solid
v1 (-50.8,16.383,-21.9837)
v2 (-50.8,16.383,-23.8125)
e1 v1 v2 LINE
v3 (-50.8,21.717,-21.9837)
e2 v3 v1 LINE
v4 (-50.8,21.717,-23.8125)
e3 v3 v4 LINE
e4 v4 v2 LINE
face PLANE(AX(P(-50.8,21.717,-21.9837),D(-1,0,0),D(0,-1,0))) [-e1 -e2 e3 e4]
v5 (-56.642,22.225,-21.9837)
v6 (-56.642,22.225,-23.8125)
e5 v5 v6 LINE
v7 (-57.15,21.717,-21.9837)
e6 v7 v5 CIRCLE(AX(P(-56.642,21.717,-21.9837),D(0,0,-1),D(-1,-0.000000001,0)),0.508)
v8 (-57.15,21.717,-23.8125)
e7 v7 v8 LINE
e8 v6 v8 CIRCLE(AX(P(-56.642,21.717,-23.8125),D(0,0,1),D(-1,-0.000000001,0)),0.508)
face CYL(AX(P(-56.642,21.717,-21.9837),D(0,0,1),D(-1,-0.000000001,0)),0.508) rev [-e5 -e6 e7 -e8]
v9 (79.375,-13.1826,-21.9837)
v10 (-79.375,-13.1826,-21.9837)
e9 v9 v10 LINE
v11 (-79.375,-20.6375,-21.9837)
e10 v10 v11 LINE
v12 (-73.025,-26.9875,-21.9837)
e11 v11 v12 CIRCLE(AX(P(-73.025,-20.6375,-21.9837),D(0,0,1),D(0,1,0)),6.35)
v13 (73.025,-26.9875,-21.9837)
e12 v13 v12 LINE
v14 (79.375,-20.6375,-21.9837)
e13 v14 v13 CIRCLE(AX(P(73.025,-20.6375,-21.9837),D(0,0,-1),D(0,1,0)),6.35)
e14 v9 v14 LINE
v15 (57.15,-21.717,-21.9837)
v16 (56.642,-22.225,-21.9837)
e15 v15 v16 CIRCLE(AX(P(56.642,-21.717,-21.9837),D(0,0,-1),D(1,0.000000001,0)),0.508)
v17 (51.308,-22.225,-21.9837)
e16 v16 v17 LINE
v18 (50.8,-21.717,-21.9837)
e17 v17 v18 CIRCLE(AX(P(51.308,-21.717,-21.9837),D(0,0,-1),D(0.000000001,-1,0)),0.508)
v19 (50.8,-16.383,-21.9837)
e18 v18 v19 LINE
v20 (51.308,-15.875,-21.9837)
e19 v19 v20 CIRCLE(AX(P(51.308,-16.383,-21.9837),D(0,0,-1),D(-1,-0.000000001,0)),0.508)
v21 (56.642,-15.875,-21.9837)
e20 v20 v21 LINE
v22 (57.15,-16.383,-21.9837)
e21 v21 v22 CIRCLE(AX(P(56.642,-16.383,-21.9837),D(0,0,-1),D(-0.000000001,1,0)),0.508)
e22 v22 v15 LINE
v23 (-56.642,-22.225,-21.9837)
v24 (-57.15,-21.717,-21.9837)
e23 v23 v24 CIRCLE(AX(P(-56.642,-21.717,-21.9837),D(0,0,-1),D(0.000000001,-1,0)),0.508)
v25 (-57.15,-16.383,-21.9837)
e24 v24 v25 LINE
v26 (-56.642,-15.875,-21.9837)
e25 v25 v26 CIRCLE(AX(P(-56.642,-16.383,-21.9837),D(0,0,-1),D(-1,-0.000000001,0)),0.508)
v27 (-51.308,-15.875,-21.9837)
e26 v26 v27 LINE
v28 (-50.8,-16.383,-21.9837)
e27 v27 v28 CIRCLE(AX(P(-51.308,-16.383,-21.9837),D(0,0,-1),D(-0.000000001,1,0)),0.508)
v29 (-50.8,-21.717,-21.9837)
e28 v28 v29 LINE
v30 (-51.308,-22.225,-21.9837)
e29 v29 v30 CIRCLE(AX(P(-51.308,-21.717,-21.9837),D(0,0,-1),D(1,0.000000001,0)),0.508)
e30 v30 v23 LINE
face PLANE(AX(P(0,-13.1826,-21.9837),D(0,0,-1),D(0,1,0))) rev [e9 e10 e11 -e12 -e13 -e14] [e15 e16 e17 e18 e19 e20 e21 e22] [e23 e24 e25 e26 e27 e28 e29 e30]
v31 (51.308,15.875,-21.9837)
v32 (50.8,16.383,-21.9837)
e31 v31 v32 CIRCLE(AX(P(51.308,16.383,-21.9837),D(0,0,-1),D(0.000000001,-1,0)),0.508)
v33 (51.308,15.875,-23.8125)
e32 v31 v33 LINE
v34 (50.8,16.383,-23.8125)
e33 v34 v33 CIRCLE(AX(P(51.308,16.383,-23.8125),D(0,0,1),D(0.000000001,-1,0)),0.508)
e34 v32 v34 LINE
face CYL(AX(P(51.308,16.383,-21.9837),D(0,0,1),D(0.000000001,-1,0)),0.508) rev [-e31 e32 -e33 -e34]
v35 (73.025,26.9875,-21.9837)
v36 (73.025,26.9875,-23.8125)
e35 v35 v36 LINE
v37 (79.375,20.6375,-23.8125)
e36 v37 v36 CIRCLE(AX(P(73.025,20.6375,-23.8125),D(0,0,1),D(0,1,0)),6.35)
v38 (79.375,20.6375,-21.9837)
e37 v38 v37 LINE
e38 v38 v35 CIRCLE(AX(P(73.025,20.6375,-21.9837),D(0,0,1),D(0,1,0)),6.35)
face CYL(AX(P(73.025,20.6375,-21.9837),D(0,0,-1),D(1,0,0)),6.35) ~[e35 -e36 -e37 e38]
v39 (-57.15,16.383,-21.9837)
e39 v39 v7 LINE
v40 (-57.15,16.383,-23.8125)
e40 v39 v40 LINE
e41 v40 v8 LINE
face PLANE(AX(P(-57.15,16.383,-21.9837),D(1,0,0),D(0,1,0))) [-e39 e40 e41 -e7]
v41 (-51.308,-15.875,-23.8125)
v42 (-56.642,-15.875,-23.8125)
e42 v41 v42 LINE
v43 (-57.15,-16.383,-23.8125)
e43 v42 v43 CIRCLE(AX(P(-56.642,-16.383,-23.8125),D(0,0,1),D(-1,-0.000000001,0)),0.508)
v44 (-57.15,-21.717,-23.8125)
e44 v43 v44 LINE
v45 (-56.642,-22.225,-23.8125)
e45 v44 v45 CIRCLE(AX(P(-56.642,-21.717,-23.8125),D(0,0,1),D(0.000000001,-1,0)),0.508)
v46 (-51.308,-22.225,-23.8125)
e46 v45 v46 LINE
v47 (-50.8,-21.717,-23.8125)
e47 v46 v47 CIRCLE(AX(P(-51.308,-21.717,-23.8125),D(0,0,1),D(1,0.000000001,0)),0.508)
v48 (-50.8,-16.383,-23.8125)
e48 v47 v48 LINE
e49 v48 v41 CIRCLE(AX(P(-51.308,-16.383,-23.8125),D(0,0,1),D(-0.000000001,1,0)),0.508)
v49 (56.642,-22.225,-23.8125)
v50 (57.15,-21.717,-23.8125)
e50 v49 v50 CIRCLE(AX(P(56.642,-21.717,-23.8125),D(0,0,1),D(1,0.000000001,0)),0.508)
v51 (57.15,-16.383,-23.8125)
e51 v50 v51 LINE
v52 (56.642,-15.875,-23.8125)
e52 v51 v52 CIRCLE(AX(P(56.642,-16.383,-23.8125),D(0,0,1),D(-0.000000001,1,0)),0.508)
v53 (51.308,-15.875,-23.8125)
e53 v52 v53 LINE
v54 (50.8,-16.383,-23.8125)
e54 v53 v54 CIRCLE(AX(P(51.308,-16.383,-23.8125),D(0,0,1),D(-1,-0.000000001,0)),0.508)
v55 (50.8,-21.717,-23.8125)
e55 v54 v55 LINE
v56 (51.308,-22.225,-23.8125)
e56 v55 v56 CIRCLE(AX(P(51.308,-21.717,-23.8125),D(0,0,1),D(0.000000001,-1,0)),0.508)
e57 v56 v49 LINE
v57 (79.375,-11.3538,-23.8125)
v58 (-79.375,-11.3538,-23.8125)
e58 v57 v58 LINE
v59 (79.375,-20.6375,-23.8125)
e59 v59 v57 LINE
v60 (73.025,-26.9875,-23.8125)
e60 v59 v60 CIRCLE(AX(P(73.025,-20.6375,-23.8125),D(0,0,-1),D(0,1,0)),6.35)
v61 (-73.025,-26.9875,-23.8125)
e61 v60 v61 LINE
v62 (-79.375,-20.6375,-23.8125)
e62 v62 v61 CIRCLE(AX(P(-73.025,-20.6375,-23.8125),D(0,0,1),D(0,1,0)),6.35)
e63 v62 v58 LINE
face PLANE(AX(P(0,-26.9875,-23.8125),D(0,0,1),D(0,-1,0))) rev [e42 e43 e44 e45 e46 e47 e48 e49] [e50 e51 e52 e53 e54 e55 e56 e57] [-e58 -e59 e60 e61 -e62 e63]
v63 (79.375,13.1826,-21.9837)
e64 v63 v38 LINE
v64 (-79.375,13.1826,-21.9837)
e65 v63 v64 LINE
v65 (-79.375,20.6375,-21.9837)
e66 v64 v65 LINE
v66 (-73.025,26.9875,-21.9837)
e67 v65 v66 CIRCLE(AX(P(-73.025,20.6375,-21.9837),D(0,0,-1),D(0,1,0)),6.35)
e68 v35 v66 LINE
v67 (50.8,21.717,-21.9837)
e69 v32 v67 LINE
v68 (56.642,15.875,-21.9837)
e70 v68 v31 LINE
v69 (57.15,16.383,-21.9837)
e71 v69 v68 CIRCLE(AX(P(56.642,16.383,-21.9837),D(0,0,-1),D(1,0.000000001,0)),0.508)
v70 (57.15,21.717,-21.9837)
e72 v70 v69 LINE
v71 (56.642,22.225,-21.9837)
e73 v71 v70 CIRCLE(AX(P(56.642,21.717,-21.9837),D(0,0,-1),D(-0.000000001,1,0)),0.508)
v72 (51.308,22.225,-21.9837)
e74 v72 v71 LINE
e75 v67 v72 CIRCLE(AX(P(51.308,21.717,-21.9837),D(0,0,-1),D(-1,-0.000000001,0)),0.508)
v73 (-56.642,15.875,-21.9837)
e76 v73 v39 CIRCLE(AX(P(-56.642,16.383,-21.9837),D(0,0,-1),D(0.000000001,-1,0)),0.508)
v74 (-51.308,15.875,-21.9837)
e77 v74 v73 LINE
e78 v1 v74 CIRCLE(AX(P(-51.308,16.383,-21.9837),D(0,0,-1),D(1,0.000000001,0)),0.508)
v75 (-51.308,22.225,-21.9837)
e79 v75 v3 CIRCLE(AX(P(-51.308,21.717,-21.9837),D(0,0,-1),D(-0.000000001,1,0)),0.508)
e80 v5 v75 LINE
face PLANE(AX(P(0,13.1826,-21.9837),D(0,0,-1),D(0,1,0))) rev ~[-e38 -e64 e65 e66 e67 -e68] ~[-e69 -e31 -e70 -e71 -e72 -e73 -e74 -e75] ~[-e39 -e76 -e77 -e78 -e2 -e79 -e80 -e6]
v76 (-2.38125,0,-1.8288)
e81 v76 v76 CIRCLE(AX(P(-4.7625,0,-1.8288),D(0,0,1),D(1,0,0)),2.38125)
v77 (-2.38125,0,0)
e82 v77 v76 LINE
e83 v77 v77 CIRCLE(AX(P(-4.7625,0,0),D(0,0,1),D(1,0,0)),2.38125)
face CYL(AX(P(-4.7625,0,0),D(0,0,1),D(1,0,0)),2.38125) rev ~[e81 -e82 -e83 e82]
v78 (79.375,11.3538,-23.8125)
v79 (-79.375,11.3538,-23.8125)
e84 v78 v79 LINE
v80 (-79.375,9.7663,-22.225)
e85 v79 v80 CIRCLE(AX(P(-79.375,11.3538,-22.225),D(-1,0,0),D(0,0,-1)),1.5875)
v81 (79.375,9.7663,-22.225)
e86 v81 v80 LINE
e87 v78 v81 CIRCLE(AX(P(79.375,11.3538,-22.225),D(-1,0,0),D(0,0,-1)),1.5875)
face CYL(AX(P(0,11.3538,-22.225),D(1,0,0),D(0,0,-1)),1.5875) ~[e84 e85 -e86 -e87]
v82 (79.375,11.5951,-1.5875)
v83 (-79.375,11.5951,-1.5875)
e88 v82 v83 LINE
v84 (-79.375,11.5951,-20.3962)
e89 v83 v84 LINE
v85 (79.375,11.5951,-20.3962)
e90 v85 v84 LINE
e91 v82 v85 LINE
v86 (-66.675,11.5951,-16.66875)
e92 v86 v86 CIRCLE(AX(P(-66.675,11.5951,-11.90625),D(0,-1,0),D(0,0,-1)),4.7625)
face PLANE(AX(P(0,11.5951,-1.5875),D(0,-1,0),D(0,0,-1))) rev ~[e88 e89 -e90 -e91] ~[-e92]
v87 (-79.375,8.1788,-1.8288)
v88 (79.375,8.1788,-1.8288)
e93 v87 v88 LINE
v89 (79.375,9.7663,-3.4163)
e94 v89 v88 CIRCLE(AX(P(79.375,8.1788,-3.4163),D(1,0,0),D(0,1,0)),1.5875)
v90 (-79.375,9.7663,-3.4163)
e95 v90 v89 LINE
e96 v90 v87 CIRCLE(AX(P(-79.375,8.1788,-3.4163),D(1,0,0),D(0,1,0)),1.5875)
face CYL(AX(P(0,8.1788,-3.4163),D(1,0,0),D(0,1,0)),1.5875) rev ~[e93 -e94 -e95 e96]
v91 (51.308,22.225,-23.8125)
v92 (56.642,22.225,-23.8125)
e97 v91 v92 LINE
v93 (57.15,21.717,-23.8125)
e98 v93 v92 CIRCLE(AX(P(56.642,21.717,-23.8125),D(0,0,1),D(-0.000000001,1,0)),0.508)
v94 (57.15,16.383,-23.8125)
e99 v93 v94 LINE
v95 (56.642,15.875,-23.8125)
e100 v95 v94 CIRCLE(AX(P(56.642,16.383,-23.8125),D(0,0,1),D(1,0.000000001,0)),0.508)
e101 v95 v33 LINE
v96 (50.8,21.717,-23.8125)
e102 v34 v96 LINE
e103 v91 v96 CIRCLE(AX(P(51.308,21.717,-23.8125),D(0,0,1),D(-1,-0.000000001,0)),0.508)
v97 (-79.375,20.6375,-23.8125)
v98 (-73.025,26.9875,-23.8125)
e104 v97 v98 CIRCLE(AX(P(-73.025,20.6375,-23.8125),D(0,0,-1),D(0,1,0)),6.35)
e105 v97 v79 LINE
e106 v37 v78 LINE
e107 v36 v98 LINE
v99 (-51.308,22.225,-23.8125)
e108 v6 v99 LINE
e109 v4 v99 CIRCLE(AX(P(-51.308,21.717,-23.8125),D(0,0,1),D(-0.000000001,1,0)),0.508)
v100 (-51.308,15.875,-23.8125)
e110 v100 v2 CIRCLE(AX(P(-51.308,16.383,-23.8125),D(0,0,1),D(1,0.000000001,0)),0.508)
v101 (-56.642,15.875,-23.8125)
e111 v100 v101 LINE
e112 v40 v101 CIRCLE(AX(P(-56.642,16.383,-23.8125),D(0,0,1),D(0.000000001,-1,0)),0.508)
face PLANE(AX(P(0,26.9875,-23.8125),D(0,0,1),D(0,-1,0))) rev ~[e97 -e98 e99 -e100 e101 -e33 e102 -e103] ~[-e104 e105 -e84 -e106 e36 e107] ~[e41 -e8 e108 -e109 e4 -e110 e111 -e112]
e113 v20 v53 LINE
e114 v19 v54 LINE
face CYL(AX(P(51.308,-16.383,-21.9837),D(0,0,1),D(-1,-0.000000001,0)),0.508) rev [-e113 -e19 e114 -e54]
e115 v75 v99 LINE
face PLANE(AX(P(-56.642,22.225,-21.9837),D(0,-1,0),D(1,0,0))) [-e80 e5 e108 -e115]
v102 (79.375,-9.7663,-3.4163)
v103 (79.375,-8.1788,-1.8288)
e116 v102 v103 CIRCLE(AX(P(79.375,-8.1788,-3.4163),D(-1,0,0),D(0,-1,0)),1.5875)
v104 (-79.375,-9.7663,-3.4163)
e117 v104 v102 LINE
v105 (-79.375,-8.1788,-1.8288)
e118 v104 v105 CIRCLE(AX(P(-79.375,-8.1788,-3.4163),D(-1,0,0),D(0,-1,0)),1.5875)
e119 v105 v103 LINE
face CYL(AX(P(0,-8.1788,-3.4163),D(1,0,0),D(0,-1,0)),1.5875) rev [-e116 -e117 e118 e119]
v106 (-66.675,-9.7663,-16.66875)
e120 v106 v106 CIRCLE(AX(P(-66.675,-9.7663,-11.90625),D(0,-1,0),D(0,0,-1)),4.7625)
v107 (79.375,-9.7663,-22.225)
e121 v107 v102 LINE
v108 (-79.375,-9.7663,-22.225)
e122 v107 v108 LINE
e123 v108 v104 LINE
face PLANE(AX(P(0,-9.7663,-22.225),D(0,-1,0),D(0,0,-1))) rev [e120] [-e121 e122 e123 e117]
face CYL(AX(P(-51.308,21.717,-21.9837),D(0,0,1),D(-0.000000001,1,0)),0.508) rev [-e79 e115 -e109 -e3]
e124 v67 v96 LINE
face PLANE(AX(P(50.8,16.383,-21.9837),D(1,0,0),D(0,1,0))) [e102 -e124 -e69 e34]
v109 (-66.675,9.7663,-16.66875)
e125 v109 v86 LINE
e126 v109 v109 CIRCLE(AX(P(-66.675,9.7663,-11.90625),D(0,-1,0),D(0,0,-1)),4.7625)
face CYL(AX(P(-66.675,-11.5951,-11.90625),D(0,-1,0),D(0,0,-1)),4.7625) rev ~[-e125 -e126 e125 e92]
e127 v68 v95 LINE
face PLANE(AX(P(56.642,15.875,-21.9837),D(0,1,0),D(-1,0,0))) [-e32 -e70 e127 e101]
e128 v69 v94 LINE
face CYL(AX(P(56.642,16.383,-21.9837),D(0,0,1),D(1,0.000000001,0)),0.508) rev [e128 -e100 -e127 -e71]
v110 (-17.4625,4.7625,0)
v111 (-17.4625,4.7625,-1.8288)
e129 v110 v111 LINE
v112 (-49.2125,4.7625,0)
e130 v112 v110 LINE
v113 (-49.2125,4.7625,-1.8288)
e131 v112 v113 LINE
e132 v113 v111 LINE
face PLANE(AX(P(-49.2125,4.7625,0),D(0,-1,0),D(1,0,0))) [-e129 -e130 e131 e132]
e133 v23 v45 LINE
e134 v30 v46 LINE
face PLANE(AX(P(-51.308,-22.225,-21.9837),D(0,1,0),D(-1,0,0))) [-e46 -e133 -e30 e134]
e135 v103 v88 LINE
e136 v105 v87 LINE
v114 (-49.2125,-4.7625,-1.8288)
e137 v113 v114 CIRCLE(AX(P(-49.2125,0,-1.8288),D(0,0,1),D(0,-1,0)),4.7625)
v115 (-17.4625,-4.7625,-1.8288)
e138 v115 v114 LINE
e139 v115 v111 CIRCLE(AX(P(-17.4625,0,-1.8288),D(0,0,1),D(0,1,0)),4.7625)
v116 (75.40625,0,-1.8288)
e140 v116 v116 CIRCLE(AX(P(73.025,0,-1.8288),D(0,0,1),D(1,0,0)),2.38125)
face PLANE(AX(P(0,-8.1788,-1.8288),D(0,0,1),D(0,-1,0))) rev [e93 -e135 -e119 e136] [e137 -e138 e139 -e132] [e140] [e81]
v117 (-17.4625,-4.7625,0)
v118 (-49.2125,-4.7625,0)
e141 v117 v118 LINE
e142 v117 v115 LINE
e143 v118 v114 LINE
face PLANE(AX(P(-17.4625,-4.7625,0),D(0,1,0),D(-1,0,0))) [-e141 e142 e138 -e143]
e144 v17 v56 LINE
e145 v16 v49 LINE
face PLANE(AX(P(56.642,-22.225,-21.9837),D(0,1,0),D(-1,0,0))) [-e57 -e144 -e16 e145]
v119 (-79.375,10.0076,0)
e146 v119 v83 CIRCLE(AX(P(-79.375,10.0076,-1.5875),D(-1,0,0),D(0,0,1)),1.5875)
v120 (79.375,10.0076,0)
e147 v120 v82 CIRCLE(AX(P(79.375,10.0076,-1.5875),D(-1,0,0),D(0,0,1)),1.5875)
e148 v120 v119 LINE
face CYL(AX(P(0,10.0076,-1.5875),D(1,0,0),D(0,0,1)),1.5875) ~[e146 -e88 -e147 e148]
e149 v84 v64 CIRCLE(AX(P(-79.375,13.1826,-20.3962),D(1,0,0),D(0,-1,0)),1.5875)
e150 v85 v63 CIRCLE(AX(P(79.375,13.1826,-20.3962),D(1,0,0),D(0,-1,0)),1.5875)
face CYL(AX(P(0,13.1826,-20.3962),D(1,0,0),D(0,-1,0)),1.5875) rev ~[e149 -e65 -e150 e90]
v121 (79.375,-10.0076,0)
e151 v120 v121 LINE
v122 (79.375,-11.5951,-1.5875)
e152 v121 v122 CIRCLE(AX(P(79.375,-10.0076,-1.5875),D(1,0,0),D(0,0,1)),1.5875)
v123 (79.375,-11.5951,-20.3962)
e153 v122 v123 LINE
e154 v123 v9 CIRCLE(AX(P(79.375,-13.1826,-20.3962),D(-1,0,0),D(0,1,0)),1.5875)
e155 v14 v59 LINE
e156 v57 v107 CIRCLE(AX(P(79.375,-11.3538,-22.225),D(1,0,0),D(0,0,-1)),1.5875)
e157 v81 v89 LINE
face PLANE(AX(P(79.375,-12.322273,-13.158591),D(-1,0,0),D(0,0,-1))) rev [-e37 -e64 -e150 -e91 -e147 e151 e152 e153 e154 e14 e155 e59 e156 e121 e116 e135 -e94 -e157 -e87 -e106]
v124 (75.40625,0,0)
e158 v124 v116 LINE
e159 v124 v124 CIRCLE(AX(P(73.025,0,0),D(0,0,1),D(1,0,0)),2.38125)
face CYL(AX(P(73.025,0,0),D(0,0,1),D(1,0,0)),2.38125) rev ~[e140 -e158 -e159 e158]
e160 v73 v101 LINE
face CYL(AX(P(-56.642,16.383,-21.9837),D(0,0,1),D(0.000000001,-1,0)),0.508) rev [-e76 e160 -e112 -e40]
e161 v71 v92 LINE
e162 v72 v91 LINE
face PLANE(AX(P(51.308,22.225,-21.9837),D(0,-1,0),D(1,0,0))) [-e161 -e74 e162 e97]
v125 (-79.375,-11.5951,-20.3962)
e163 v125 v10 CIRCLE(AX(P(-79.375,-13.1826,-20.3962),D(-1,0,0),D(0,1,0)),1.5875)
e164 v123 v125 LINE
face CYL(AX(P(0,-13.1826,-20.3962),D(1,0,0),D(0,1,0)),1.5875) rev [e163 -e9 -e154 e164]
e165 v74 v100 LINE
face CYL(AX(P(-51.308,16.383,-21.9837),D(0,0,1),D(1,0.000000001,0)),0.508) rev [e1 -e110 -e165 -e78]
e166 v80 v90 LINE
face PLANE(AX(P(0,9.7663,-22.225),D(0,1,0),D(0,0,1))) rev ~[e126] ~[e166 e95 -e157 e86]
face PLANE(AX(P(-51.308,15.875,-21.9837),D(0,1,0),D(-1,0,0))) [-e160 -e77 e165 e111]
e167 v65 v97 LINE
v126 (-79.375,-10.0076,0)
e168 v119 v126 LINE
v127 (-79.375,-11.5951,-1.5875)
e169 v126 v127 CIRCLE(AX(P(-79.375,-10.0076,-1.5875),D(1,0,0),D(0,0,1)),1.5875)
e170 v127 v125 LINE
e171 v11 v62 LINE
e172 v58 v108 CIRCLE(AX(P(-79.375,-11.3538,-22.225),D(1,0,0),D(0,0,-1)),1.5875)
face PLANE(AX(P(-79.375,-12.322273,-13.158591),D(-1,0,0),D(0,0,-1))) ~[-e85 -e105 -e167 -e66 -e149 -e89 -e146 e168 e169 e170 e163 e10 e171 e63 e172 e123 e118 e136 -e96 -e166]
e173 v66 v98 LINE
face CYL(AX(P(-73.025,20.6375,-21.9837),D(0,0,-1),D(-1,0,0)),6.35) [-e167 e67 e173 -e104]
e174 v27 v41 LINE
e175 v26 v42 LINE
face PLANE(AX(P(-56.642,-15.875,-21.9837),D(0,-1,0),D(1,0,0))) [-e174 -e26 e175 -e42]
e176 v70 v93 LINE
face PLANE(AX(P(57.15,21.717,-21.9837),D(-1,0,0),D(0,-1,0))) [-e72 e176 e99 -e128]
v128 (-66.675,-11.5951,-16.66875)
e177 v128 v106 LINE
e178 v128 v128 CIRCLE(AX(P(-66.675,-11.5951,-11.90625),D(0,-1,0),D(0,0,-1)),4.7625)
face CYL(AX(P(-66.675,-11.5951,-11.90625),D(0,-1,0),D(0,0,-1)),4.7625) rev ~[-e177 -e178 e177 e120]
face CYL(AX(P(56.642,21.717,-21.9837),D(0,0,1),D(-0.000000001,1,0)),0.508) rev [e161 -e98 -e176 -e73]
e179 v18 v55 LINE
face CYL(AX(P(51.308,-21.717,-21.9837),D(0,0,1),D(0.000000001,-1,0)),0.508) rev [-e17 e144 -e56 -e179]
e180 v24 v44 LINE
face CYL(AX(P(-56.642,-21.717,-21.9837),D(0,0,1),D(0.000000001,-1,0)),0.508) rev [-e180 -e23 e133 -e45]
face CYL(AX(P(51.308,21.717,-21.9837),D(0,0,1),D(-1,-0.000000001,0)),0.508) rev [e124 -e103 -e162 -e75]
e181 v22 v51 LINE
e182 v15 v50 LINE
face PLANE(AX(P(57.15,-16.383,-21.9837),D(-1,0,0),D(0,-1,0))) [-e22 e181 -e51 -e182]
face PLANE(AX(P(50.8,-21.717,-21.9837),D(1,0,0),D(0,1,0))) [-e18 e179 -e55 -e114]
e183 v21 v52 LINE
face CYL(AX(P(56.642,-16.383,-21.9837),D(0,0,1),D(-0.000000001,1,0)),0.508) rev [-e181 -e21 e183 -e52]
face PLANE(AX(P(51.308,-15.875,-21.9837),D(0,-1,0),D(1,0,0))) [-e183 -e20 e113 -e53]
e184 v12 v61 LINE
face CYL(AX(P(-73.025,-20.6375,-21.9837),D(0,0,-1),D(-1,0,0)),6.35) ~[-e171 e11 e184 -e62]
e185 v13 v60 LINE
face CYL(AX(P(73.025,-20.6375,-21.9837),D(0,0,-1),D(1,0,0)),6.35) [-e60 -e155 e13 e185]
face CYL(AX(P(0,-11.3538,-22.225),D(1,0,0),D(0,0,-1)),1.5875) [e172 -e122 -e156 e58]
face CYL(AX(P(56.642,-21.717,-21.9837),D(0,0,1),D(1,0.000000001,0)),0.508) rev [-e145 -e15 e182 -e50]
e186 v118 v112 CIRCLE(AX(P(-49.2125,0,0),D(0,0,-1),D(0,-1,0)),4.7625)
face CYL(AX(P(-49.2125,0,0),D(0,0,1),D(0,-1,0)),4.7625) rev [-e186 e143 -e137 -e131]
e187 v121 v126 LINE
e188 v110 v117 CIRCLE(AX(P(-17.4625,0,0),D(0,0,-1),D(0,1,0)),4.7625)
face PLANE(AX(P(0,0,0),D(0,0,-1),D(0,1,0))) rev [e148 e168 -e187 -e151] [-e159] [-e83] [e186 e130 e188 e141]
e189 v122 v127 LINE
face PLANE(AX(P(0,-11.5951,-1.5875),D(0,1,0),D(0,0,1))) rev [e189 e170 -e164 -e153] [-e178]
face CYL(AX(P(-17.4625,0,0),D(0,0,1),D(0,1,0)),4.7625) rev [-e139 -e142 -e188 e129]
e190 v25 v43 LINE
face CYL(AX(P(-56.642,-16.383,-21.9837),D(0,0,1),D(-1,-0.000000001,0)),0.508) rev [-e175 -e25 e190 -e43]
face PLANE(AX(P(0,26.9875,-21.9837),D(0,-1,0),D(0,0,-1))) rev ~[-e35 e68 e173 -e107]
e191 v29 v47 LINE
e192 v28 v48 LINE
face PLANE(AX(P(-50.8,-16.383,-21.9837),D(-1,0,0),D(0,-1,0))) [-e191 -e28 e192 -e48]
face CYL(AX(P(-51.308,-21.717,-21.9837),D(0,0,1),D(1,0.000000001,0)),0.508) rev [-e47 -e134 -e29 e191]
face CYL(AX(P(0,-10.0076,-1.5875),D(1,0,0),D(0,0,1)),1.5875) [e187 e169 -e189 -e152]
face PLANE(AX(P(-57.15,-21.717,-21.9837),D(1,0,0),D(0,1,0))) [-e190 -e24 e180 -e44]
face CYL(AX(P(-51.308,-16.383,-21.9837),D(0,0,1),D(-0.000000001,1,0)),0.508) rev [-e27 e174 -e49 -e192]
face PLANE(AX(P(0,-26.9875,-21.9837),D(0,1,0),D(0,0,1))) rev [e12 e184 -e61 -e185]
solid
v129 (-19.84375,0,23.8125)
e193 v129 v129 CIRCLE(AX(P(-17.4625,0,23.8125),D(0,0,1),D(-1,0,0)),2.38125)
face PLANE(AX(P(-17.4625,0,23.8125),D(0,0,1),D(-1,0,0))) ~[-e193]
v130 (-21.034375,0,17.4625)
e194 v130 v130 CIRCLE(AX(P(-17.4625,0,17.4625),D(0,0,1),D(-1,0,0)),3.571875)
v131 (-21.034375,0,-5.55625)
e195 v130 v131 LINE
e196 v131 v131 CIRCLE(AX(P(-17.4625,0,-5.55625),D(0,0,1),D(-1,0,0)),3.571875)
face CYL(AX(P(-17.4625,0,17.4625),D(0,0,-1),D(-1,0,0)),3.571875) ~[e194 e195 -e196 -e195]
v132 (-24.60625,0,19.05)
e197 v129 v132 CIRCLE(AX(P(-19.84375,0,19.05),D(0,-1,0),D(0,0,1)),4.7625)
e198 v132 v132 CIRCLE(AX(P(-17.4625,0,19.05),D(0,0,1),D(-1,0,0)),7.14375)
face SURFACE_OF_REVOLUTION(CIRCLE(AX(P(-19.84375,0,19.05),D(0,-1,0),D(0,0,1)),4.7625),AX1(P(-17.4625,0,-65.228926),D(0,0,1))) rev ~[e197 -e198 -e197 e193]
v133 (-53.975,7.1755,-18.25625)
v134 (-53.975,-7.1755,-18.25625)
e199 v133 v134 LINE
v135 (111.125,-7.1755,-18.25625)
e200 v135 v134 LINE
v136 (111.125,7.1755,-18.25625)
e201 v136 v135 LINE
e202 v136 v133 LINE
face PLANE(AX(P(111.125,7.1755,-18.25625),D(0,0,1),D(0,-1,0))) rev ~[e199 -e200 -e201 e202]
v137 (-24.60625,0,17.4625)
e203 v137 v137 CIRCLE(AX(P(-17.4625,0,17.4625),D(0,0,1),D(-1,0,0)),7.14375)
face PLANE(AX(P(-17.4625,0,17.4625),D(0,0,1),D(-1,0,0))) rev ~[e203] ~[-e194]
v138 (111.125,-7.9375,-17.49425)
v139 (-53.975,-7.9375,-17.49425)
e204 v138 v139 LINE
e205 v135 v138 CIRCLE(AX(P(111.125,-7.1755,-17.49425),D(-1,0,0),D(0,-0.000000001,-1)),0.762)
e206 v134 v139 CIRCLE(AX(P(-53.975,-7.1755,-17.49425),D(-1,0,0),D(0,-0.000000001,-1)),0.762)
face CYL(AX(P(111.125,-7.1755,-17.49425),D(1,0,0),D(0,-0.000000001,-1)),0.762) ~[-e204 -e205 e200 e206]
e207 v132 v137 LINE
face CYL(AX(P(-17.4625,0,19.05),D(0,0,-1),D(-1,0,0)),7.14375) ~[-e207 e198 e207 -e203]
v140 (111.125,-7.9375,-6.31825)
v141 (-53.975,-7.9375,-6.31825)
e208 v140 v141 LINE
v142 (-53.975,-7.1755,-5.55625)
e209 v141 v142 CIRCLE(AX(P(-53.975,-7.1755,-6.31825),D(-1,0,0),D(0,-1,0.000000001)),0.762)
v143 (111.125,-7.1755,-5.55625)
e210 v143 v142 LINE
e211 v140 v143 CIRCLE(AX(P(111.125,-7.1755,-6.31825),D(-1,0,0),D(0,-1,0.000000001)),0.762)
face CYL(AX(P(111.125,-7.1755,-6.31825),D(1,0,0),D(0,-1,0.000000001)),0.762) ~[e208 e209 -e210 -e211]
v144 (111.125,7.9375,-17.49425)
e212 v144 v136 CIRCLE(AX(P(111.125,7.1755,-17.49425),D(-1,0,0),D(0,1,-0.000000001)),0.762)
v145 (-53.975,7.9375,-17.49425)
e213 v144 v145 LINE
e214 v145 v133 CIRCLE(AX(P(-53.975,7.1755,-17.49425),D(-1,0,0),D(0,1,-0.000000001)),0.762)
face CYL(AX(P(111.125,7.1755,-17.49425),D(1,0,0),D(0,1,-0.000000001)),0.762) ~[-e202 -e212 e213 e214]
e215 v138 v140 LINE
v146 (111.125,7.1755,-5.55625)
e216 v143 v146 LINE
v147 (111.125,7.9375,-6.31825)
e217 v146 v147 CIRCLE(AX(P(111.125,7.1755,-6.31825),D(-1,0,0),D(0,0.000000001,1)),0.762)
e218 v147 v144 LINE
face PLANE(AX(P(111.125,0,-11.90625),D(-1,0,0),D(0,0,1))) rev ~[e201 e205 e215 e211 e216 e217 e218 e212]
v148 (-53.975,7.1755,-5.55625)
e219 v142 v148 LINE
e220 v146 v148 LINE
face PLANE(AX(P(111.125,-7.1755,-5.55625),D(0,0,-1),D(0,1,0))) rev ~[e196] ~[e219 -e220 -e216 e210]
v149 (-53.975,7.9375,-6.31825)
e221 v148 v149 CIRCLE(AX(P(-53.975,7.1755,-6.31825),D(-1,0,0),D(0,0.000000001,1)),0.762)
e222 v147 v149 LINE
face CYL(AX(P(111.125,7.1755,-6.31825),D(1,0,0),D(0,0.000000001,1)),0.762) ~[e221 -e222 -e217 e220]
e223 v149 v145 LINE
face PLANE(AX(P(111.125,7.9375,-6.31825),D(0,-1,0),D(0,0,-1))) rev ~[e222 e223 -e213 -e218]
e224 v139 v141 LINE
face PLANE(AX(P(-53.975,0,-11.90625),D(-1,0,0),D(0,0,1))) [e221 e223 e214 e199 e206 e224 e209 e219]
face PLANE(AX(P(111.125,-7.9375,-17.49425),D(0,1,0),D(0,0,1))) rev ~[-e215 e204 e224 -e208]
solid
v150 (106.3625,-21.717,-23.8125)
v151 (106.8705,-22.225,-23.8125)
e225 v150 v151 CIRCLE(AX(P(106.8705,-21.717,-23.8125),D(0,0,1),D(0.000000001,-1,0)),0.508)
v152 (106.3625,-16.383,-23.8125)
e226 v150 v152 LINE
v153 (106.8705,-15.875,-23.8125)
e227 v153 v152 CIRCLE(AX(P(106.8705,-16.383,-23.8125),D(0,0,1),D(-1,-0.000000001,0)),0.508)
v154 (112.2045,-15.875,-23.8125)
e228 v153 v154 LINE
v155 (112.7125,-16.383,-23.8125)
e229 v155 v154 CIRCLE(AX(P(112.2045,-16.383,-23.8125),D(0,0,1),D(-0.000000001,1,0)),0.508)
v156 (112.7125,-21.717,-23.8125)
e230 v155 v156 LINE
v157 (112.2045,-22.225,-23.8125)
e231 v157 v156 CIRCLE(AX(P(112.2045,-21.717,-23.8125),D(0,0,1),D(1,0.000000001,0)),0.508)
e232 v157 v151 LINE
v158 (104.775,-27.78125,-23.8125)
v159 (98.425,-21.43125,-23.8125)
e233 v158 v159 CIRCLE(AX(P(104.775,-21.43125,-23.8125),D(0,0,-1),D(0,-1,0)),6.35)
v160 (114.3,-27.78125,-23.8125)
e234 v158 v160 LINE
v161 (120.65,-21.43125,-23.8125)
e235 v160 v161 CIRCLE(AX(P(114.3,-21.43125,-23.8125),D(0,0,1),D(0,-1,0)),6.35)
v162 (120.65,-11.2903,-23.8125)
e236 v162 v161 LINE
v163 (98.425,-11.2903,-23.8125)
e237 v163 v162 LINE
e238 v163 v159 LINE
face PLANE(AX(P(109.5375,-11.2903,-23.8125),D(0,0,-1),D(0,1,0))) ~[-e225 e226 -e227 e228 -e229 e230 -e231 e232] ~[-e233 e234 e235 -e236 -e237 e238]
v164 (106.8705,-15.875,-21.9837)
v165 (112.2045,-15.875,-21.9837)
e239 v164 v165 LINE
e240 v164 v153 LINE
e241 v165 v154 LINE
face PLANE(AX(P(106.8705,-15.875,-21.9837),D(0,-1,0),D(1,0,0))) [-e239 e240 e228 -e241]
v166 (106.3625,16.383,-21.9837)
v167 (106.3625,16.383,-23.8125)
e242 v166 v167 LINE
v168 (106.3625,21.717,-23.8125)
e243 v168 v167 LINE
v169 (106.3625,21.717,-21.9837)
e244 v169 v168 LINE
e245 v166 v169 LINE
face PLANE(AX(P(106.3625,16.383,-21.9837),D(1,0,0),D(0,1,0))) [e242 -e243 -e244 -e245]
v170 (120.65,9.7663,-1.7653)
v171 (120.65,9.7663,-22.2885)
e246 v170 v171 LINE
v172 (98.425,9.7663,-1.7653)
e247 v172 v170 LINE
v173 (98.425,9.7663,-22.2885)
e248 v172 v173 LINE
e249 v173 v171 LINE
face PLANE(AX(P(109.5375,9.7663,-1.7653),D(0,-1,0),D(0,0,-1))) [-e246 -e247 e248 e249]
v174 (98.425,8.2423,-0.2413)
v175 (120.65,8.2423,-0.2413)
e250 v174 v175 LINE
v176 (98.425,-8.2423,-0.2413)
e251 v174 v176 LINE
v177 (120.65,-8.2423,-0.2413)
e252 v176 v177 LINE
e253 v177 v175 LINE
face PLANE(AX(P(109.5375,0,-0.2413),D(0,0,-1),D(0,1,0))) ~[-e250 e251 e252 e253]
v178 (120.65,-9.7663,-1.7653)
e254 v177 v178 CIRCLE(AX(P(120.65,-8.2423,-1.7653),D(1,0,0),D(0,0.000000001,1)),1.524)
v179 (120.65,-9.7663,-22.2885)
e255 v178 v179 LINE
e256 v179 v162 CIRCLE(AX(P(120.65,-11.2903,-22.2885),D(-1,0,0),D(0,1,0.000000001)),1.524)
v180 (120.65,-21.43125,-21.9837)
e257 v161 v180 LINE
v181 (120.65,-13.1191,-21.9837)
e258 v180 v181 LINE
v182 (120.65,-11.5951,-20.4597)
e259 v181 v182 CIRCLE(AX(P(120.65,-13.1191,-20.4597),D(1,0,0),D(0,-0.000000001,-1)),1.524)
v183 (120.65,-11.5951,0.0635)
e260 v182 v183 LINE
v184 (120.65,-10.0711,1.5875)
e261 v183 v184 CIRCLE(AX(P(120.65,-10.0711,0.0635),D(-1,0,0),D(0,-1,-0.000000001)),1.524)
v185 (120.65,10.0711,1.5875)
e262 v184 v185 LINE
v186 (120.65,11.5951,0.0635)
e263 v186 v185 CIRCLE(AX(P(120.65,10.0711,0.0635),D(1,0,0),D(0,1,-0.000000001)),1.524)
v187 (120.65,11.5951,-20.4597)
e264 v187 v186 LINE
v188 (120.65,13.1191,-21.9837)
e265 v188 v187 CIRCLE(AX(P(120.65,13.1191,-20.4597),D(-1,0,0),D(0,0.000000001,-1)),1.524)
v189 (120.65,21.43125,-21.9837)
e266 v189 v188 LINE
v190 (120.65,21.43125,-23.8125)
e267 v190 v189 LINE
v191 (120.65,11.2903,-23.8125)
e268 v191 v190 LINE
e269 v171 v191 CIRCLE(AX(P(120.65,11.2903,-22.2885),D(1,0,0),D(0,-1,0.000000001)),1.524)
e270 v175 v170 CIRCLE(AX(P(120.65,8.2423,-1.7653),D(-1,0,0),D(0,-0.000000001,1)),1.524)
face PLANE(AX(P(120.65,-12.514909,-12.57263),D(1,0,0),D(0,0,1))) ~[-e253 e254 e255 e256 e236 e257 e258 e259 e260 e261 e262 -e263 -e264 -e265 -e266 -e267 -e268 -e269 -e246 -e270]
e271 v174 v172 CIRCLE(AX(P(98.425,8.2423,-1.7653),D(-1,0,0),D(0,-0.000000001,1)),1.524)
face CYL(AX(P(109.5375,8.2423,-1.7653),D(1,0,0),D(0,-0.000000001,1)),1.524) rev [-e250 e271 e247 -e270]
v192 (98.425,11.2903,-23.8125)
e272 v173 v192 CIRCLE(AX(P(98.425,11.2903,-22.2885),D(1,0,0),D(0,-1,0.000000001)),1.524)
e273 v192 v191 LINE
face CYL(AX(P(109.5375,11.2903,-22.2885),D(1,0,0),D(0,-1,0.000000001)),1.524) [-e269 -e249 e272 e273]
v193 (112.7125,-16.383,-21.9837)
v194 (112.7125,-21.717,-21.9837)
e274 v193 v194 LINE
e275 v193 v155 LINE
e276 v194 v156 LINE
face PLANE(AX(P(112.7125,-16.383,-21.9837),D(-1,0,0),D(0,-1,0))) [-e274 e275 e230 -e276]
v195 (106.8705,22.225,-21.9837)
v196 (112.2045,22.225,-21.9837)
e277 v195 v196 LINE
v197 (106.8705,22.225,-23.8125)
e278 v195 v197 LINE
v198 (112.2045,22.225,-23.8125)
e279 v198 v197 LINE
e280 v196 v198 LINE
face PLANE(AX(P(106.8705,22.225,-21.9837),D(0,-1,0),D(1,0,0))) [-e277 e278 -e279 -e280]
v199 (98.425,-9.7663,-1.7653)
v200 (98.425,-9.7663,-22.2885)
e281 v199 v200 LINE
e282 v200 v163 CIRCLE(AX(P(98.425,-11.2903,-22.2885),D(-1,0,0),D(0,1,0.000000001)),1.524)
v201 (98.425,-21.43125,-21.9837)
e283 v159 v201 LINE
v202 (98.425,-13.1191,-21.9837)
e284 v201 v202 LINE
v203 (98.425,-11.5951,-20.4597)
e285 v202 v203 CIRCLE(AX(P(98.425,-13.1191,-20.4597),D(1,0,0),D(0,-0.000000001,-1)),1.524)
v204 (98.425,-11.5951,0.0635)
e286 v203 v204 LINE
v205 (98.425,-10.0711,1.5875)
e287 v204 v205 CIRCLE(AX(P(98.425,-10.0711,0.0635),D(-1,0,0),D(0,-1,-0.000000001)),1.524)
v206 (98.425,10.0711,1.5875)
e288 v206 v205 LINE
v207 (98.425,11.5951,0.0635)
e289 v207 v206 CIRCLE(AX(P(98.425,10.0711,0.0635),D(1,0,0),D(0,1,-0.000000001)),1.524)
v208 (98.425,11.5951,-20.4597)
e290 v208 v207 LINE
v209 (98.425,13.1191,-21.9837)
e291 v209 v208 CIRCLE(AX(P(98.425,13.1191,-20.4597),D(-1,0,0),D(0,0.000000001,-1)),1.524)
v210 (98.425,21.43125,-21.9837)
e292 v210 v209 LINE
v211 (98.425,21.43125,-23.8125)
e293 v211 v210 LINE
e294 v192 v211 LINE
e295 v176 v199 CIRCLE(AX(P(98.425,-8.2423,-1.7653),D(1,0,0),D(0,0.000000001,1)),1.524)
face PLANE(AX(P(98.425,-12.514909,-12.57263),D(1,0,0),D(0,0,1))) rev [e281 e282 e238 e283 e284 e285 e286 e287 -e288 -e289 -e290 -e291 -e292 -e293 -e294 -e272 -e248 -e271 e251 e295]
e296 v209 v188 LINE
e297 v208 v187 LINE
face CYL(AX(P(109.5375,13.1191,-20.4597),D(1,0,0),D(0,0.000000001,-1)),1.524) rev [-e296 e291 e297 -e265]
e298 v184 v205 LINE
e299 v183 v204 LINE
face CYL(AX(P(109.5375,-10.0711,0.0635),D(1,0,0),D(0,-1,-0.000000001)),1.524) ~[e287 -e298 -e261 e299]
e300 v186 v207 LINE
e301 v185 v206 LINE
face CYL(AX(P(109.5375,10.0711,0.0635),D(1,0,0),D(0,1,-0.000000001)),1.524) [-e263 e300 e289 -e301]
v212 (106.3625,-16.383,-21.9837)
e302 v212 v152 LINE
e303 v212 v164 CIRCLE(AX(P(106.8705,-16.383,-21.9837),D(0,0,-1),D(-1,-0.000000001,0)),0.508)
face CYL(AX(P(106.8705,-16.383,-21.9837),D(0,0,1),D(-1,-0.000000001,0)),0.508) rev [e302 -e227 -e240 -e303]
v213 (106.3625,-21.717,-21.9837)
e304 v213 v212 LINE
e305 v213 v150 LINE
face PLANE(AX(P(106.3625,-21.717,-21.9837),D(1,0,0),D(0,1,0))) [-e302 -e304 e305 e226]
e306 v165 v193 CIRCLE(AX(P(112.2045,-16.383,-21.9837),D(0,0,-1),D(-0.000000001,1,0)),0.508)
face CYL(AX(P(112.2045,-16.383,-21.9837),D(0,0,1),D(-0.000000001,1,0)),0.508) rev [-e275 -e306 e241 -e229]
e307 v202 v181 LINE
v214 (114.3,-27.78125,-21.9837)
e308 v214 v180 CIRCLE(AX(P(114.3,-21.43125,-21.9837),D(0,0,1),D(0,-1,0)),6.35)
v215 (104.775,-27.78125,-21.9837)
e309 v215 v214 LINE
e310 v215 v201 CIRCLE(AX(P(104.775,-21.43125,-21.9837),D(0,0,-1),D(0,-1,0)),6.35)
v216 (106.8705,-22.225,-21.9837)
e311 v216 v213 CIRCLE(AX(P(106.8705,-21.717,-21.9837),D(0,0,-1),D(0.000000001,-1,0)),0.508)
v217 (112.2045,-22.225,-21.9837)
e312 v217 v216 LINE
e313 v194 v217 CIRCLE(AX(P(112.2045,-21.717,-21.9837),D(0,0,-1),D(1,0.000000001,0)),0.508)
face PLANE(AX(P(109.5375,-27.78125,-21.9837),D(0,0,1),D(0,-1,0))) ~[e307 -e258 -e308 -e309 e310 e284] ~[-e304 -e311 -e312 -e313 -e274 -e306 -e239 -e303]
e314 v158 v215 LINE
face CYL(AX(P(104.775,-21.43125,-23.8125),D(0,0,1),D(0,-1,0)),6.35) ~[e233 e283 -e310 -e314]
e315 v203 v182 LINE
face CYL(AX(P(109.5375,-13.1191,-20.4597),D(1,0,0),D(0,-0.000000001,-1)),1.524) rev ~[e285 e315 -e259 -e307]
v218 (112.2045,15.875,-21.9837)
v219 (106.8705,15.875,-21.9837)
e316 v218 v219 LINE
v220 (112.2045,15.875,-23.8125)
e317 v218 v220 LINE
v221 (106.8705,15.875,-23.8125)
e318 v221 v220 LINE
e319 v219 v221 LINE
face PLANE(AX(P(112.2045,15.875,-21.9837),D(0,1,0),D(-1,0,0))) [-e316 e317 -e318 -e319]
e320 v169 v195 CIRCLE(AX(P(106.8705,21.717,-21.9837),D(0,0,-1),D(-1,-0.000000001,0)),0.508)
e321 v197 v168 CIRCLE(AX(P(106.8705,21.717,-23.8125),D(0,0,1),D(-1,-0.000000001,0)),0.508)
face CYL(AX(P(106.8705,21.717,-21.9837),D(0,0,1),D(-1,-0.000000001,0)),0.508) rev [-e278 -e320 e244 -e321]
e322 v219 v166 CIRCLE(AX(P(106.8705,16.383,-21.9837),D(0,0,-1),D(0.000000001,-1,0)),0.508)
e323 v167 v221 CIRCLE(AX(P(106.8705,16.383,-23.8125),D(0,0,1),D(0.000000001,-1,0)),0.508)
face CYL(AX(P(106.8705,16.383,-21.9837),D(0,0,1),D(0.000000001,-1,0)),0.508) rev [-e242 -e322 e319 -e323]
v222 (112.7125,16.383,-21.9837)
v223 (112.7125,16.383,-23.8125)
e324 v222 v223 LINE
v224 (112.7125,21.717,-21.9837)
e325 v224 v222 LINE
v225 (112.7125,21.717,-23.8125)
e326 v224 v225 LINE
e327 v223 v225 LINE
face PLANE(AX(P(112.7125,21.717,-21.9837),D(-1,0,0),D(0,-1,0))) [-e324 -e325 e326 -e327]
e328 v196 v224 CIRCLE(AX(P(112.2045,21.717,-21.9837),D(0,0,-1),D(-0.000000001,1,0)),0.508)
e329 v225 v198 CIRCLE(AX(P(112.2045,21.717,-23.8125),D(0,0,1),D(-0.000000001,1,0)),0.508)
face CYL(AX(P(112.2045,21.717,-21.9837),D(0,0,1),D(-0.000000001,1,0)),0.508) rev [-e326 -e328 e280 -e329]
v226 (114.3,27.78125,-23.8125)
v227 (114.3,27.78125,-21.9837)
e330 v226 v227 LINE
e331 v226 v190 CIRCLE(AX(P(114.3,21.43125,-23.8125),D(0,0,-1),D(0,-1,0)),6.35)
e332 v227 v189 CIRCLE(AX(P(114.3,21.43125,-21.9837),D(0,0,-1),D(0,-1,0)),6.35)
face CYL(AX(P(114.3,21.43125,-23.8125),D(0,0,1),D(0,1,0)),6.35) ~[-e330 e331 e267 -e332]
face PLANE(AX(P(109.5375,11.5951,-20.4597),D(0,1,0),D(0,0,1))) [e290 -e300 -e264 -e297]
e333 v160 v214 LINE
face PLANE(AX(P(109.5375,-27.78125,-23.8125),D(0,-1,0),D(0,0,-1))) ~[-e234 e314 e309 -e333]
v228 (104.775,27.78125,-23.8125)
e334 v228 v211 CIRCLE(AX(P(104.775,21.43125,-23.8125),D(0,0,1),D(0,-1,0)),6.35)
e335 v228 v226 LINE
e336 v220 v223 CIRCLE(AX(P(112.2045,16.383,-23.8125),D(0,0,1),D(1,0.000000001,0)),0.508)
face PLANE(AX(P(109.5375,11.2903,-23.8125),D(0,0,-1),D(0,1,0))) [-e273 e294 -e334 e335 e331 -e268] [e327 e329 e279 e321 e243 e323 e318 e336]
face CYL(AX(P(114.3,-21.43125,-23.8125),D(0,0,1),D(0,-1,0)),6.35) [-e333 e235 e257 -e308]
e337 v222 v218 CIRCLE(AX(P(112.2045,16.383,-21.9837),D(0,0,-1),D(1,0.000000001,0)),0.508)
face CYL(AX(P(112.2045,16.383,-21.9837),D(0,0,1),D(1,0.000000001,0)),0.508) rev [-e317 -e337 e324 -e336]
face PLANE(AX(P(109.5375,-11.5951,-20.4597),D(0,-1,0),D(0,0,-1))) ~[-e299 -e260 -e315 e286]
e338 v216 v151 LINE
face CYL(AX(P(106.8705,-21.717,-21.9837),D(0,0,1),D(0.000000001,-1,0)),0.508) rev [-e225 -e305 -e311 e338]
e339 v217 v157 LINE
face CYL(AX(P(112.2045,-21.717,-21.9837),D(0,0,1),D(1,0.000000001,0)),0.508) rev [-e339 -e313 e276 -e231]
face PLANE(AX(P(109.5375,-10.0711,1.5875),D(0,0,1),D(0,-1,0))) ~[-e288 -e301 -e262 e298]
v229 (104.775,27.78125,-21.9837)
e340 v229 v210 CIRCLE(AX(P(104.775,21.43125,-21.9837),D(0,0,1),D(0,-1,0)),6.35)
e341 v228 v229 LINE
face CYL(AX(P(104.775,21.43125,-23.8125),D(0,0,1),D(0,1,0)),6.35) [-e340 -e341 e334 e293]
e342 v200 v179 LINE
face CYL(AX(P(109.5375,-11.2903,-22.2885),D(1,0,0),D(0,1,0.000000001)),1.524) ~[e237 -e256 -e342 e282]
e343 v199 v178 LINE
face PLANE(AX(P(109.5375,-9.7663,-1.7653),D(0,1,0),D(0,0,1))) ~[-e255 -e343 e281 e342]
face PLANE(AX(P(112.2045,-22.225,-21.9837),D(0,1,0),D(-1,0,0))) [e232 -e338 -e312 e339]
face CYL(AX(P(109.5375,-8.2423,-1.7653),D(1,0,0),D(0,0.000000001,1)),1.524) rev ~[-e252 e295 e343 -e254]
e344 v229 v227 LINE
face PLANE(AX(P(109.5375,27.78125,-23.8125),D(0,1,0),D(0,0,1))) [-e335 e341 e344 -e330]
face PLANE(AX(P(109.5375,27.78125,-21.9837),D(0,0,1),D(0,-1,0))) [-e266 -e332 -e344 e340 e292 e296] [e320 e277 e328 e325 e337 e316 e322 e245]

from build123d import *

# Parameters (mm, degrees)
BOSS_EXTRUDE1_DEPTH = 79.375
FILLET1_R           = 6.35
CUT_EXTRUDE1_REACH  = 89.154
SKETCH5_R           = 2.38125
SKETCH6_R           = 4.7625
CUT_EXTRUDE2_DEPTH  = 92.411393185
CUT_EXTRUDE3_DEPTH  = 87.671788068
BOSS_EXTRUDE2_DEPTH = 165.1
BOSS_EXTRUDE3_DEPTH = 11.1125
FILLET3_R           = 6.35
CUT_EXTRUDE4_DEPTH  = 133.005728266


with BuildPart() as part:
    # Sketch4 → Boss-Extrude1 (new, symmetric)
    with BuildSketch(Plane(origin=(0, 0, 0), x_dir=(0, 0, -1), z_dir=(1, 0, 0))):
        with BuildLine():
            Line((1.8288, 0), (0, 0))
            Line((0, 0), (0, 10.0076))
            ThreePointArc((0, 10.0076), (0.464967985, 11.130132015), (1.5875, 11.5951))
            Line((1.5875, 11.5951), (20.3962, 11.5951))
            ThreePointArc((20.3962, 11.5951), (21.518732015, 12.060067985), (21.9837, 13.1826))
            Line((21.9837, 13.1826), (21.9837, 26.9875))
            Line((21.9837, 26.9875), (23.8125, 26.9875))
            Line((23.8125, 26.9875), (23.8125, 11.3538))
            ThreePointArc((23.8125, 11.3538), (23.347532015, 10.231267985), (22.225, 9.7663))
            Line((22.225, 9.7663), (3.4163, 9.7663))
            ThreePointArc((3.4163, 9.7663), (2.293767985, 9.301332015), (1.8288, 8.1788))
            Line((1.8288, 8.1788), (1.8288, 0))
        make_face()
    boss_extrude1 = extrude(amount=BOSS_EXTRUDE1_DEPTH, both=True)

    # Mirror1: Boss-Extrude1 across plane
    add(boss_extrude1.mirror(Plane.ZX))

    # Fillet1
    fillet1_edges = [part.edges().sort_by_distance(p)[0] for p in [
        (-79.375, 26.9875, -22.8981),
        (79.375, 26.9875, -22.8981),
        (79.375, -26.9875, -22.8981),
        (-79.375, -26.9875, -22.8981),
    ]]
    fillet(fillet1_edges, radius=FILLET1_R)

    # Sketch5 → Cut-Extrude1 (cut, up to next)
    with BuildSketch(Plane.XY, mode=Mode.PRIVATE) as cut_extrude1_sk1:
        with Locations((73.025, 0)):
            Circle(SKETCH5_R)
    cut_extrude1_tool1 = extrude(cut_extrude1_sk1.sketch, amount=-CUT_EXTRUDE1_REACH, mode=Mode.PRIVATE) & part.part
    # Sketch5 → Cut-Extrude1 (cut, up to next)
    with BuildSketch(Plane.XY, mode=Mode.PRIVATE) as cut_extrude1_sk2:
        with Locations((-4.7625, 0)):
            Circle(SKETCH5_R)
    cut_extrude1_tool2 = extrude(cut_extrude1_sk2.sketch, amount=-CUT_EXTRUDE1_REACH, mode=Mode.PRIVATE) & part.part
    # Sketch5 → Cut-Extrude1 (cut, up to next)
    with BuildSketch(Plane.XY, mode=Mode.PRIVATE) as cut_extrude1_sk3:
        with BuildLine():
            Line((-49.2125, 4.7625), (-17.4625, 4.7625))
            ThreePointArc((-17.4625, 4.7625), (-12.7, 0), (-17.4625, -4.7625))
            Line((-17.4625, -4.7625), (-49.2125, -4.7625))
            ThreePointArc((-49.2125, -4.7625), (-53.975, 0), (-49.2125, 4.7625))
        make_face()
    cut_extrude1_tool3 = extrude(cut_extrude1_sk3.sketch, amount=-CUT_EXTRUDE1_REACH, mode=Mode.PRIVATE) & part.part
    add(cut_extrude1_tool1.solids().sort_by_distance((73.025, 0, 0))[0], mode=Mode.SUBTRACT)
    add(cut_extrude1_tool2.solids().sort_by_distance((-4.7625, 0, 0))[0], mode=Mode.SUBTRACT)
    add(cut_extrude1_tool3.solids().sort_by_distance((-33.3375, 0, 0))[0], mode=Mode.SUBTRACT)

    # Sketch6 → Cut-Extrude2 (cut, through all)
    with BuildSketch(Plane.XZ.offset(11.5951)):
        with Locations(Location((-66.675, -11.90625, 0), (0, 0, 270))):
            Circle(SKETCH6_R)
    extrude(amount=-CUT_EXTRUDE2_DEPTH, mode=Mode.SUBTRACT)

    # Sketch7 → Cut-Extrude3 (cut, through all)
    with BuildSketch(Plane.XY.offset(-21.9837)):
        with BuildLine():
            Line((-56.642, 22.225), (-51.308, 22.225))
            ThreePointArc((-51.308, 22.225), (-50.948789755, 22.076210245), (-50.8, 21.717))
            Line((-50.8, 21.717), (-50.8, 16.383))
            ThreePointArc((-50.8, 16.383), (-50.948789755, 16.023789755), (-51.308, 15.875))
            Line((-51.308, 15.875), (-56.642, 15.875))
            ThreePointArc((-56.642, 15.875), (-57.001210245, 16.023789755), (-57.15, 16.383))
            Line((-57.15, 16.383), (-57.15, 21.717))
            ThreePointArc((-57.15, 21.717), (-57.001210245, 22.076210245), (-56.642, 22.225))
        make_face()
        with BuildLine():
            Line((51.308, 22.225), (56.642, 22.225))
            ThreePointArc((56.642, 22.225), (57.001210245, 22.076210245), (57.15, 21.717))
            Line((57.15, 21.717), (57.15, 16.383))
            ThreePointArc((57.15, 16.383), (57.001210245, 16.023789755), (56.642, 15.875))
            Line((56.642, 15.875), (51.308, 15.875))
            ThreePointArc((51.308, 15.875), (50.948789755, 16.023789755), (50.8, 16.383))
            Line((50.8, 16.383), (50.8, 21.717))
            ThreePointArc((50.8, 21.717), (50.948789755, 22.076210245), (51.308, 22.225))
        make_face()
        with BuildLine():
            Line((51.308, -15.875), (56.642, -15.875))
            ThreePointArc((56.642, -15.875), (57.001210245, -16.023789755), (57.15, -16.383))
            Line((57.15, -16.383), (57.15, -21.717))
            ThreePointArc((57.15, -21.717), (57.001210245, -22.076210245), (56.642, -22.225))
            Line((56.642, -22.225), (51.308, -22.225))
            ThreePointArc((51.308, -22.225), (50.948789755, -22.076210245), (50.8, -21.717))
            Line((50.8, -21.717), (50.8, -16.383))
            ThreePointArc((50.8, -16.383), (50.948789755, -16.023789755), (51.308, -15.875))
        make_face()
        with BuildLine():
            Line((-56.642, -15.875), (-51.308, -15.875))
            ThreePointArc((-51.308, -15.875), (-50.948789755, -16.023789755), (-50.8, -16.383))
            Line((-50.8, -16.383), (-50.8, -21.717))
            ThreePointArc((-50.8, -21.717), (-50.948789755, -22.076210245), (-51.308, -22.225))
            Line((-51.308, -22.225), (-56.642, -22.225))
            ThreePointArc((-56.642, -22.225), (-57.001210245, -22.076210245), (-57.15, -21.717))
            Line((-57.15, -21.717), (-57.15, -16.383))
            ThreePointArc((-57.15, -16.383), (-57.001210245, -16.023789755), (-56.642, -15.875))
        make_face()
    extrude(amount=-CUT_EXTRUDE3_DEPTH, mode=Mode.SUBTRACT)


with BuildPart() as body_2:
    # Sketch8 → Boss-Extrude2 (new body)
    with BuildSketch(Plane(origin=(111.125, 0, 0), x_dir=(0, 0, -1), z_dir=(1, 0, 0))):
        with BuildLine():
            Line((6.31825, 7.9375), (17.49425, 7.9375))
            ThreePointArc((17.49425, 7.9375), (18.033065367, 7.714315367), (18.25625, 7.1755))
            Line((18.25625, 7.1755), (18.25625, -7.1755))
            ThreePointArc((18.25625, -7.1755), (18.033065367, -7.714315367), (17.49425, -7.9375))
            Line((17.49425, -7.9375), (6.31825, -7.9375))
            ThreePointArc((6.31825, -7.9375), (5.779434633, -7.714315367), (5.55625, -7.1755))
            Line((5.55625, -7.1755), (5.55625, 7.1755))
            ThreePointArc((5.55625, 7.1755), (5.779434633, 7.714315367), (6.31825, 7.9375))
        make_face()
    extrude(amount=-BOSS_EXTRUDE2_DEPTH)

    # Sketch12 → Revolve1 (revolve)
    with BuildSketch(Plane(origin=(0, 0, 0), x_dir=(1, 0, 0), z_dir=(0, 1, 0)), mode=Mode.PRIVATE) as revolve1_sk:
        with BuildLine():
            Line((-17.4625, 5.55625), (-17.4625, -23.8125))
            Line((-17.4625, -23.8125), (-15.08125, -23.8125))
            ThreePointArc((-15.08125, -23.8125), (-11.713653955, -22.417596045), (-10.31875, -19.05))
            Line((-10.31875, -19.05), (-10.31875, -17.4625))
            Line((-10.31875, -17.4625), (-13.890625, -17.4625))
            Line((-13.890625, -17.4625), (-13.890625, 5.55625))
            Line((-13.890625, 5.55625), (-17.4625, 5.55625))
        make_face()
    revolve(revolve1_sk.sketch.rotate(Axis((-17.4625, 0, -65.228925589), (0, 0, 1)), 180), axis=Axis((-17.4625, 0, -65.228925589), (0, 0, 1)))


with BuildPart() as body_3:
    # Sketch13 → Boss-Extrude3 (new, symmetric)
    with BuildSketch(Plane(origin=(109.5375, 0, 0), x_dir=(0, 0, -1), z_dir=(1, 0, 0))):
        with BuildLine():
            Line((-1.5875, 0), (0.2413, 0))
            Line((0.2413, 0), (0.2413, 8.2423))
            ThreePointArc((0.2413, 8.2423), (0.687669265, 9.319930735), (1.7653, 9.7663))
            Line((1.7653, 9.7663), (22.2885, 9.7663))
            ThreePointArc((22.2885, 9.7663), (23.366130735, 10.212669265), (23.8125, 11.2903))
            Line((23.8125, 11.2903), (23.8125, 27.78125))
            Line((23.8125, 27.78125), (21.9837, 27.78125))
            Line((21.9837, 27.78125), (21.9837, 13.1191))
            ThreePointArc((21.9837, 13.1191), (21.537330735, 12.041469265), (20.4597, 11.5951))
            Line((20.4597, 11.5951), (-0.0635, 11.5951))
            ThreePointArc((-0.0635, 11.5951), (-1.141130735, 11.148730735), (-1.5875, 10.0711))
            Line((-1.5875, 10.0711), (-1.5875, 0))
        make_face()
    boss_extrude3 = extrude(amount=BOSS_EXTRUDE3_DEPTH, both=True)

    # Mirror5: Boss-Extrude3 across plane
    add(boss_extrude3.mirror(Plane.ZX))

    # Fillet3
    fillet3_edges = [body_3.edges().sort_by_distance(p)[0] for p in [
        (98.425, 27.78125, -22.8981),
        (120.65, 27.78125, -22.8981),
        (120.65, -27.78125, -22.8981),
        (98.425, -27.78125, -22.8981),
    ]]
    fillet(fillet3_edges, radius=FILLET3_R)

    # Sketch14 → Cut-Extrude4 (cut, through all)
    with BuildSketch(Plane.XY.offset(-21.9837)):
        with BuildLine():
            Line((106.8705, 22.225), (112.2045, 22.225))
            ThreePointArc((112.2045, 22.225), (112.563710245, 22.076210245), (112.7125, 21.717))
            Line((112.7125, 21.717), (112.7125, 16.383))
            ThreePointArc((112.7125, 16.383), (112.563710245, 16.023789755), (112.2045, 15.875))
            Line((112.2045, 15.875), (106.8705, 15.875))
            ThreePointArc((106.8705, 15.875), (106.511289755, 16.023789755), (106.3625, 16.383))
            Line((106.3625, 16.383), (106.3625, 21.717))
            ThreePointArc((106.3625, 21.717), (106.511289755, 22.076210245), (106.8705, 22.225))
        make_face()
        with BuildLine():
            Line((106.8705, -15.875), (112.2045, -15.875))
            ThreePointArc((112.2045, -15.875), (112.563710245, -16.023789755), (112.7125, -16.383))
            Line((112.7125, -16.383), (112.7125, -21.717))
            ThreePointArc((112.7125, -21.717), (112.563710245, -22.076210245), (112.2045, -22.225))
            Line((112.2045, -22.225), (106.8705, -22.225))
            ThreePointArc((106.8705, -22.225), (106.511289755, -22.076210245), (106.3625, -21.717))
            Line((106.3625, -21.717), (106.3625, -16.383))
            ThreePointArc((106.3625, -16.383), (106.511289755, -16.023789755), (106.8705, -15.875))
        make_face()
    extrude(amount=-CUT_EXTRUDE4_DEPTH, mode=Mode.SUBTRACT)


solid = Compound([part.part, body_2.part, body_3.part])
